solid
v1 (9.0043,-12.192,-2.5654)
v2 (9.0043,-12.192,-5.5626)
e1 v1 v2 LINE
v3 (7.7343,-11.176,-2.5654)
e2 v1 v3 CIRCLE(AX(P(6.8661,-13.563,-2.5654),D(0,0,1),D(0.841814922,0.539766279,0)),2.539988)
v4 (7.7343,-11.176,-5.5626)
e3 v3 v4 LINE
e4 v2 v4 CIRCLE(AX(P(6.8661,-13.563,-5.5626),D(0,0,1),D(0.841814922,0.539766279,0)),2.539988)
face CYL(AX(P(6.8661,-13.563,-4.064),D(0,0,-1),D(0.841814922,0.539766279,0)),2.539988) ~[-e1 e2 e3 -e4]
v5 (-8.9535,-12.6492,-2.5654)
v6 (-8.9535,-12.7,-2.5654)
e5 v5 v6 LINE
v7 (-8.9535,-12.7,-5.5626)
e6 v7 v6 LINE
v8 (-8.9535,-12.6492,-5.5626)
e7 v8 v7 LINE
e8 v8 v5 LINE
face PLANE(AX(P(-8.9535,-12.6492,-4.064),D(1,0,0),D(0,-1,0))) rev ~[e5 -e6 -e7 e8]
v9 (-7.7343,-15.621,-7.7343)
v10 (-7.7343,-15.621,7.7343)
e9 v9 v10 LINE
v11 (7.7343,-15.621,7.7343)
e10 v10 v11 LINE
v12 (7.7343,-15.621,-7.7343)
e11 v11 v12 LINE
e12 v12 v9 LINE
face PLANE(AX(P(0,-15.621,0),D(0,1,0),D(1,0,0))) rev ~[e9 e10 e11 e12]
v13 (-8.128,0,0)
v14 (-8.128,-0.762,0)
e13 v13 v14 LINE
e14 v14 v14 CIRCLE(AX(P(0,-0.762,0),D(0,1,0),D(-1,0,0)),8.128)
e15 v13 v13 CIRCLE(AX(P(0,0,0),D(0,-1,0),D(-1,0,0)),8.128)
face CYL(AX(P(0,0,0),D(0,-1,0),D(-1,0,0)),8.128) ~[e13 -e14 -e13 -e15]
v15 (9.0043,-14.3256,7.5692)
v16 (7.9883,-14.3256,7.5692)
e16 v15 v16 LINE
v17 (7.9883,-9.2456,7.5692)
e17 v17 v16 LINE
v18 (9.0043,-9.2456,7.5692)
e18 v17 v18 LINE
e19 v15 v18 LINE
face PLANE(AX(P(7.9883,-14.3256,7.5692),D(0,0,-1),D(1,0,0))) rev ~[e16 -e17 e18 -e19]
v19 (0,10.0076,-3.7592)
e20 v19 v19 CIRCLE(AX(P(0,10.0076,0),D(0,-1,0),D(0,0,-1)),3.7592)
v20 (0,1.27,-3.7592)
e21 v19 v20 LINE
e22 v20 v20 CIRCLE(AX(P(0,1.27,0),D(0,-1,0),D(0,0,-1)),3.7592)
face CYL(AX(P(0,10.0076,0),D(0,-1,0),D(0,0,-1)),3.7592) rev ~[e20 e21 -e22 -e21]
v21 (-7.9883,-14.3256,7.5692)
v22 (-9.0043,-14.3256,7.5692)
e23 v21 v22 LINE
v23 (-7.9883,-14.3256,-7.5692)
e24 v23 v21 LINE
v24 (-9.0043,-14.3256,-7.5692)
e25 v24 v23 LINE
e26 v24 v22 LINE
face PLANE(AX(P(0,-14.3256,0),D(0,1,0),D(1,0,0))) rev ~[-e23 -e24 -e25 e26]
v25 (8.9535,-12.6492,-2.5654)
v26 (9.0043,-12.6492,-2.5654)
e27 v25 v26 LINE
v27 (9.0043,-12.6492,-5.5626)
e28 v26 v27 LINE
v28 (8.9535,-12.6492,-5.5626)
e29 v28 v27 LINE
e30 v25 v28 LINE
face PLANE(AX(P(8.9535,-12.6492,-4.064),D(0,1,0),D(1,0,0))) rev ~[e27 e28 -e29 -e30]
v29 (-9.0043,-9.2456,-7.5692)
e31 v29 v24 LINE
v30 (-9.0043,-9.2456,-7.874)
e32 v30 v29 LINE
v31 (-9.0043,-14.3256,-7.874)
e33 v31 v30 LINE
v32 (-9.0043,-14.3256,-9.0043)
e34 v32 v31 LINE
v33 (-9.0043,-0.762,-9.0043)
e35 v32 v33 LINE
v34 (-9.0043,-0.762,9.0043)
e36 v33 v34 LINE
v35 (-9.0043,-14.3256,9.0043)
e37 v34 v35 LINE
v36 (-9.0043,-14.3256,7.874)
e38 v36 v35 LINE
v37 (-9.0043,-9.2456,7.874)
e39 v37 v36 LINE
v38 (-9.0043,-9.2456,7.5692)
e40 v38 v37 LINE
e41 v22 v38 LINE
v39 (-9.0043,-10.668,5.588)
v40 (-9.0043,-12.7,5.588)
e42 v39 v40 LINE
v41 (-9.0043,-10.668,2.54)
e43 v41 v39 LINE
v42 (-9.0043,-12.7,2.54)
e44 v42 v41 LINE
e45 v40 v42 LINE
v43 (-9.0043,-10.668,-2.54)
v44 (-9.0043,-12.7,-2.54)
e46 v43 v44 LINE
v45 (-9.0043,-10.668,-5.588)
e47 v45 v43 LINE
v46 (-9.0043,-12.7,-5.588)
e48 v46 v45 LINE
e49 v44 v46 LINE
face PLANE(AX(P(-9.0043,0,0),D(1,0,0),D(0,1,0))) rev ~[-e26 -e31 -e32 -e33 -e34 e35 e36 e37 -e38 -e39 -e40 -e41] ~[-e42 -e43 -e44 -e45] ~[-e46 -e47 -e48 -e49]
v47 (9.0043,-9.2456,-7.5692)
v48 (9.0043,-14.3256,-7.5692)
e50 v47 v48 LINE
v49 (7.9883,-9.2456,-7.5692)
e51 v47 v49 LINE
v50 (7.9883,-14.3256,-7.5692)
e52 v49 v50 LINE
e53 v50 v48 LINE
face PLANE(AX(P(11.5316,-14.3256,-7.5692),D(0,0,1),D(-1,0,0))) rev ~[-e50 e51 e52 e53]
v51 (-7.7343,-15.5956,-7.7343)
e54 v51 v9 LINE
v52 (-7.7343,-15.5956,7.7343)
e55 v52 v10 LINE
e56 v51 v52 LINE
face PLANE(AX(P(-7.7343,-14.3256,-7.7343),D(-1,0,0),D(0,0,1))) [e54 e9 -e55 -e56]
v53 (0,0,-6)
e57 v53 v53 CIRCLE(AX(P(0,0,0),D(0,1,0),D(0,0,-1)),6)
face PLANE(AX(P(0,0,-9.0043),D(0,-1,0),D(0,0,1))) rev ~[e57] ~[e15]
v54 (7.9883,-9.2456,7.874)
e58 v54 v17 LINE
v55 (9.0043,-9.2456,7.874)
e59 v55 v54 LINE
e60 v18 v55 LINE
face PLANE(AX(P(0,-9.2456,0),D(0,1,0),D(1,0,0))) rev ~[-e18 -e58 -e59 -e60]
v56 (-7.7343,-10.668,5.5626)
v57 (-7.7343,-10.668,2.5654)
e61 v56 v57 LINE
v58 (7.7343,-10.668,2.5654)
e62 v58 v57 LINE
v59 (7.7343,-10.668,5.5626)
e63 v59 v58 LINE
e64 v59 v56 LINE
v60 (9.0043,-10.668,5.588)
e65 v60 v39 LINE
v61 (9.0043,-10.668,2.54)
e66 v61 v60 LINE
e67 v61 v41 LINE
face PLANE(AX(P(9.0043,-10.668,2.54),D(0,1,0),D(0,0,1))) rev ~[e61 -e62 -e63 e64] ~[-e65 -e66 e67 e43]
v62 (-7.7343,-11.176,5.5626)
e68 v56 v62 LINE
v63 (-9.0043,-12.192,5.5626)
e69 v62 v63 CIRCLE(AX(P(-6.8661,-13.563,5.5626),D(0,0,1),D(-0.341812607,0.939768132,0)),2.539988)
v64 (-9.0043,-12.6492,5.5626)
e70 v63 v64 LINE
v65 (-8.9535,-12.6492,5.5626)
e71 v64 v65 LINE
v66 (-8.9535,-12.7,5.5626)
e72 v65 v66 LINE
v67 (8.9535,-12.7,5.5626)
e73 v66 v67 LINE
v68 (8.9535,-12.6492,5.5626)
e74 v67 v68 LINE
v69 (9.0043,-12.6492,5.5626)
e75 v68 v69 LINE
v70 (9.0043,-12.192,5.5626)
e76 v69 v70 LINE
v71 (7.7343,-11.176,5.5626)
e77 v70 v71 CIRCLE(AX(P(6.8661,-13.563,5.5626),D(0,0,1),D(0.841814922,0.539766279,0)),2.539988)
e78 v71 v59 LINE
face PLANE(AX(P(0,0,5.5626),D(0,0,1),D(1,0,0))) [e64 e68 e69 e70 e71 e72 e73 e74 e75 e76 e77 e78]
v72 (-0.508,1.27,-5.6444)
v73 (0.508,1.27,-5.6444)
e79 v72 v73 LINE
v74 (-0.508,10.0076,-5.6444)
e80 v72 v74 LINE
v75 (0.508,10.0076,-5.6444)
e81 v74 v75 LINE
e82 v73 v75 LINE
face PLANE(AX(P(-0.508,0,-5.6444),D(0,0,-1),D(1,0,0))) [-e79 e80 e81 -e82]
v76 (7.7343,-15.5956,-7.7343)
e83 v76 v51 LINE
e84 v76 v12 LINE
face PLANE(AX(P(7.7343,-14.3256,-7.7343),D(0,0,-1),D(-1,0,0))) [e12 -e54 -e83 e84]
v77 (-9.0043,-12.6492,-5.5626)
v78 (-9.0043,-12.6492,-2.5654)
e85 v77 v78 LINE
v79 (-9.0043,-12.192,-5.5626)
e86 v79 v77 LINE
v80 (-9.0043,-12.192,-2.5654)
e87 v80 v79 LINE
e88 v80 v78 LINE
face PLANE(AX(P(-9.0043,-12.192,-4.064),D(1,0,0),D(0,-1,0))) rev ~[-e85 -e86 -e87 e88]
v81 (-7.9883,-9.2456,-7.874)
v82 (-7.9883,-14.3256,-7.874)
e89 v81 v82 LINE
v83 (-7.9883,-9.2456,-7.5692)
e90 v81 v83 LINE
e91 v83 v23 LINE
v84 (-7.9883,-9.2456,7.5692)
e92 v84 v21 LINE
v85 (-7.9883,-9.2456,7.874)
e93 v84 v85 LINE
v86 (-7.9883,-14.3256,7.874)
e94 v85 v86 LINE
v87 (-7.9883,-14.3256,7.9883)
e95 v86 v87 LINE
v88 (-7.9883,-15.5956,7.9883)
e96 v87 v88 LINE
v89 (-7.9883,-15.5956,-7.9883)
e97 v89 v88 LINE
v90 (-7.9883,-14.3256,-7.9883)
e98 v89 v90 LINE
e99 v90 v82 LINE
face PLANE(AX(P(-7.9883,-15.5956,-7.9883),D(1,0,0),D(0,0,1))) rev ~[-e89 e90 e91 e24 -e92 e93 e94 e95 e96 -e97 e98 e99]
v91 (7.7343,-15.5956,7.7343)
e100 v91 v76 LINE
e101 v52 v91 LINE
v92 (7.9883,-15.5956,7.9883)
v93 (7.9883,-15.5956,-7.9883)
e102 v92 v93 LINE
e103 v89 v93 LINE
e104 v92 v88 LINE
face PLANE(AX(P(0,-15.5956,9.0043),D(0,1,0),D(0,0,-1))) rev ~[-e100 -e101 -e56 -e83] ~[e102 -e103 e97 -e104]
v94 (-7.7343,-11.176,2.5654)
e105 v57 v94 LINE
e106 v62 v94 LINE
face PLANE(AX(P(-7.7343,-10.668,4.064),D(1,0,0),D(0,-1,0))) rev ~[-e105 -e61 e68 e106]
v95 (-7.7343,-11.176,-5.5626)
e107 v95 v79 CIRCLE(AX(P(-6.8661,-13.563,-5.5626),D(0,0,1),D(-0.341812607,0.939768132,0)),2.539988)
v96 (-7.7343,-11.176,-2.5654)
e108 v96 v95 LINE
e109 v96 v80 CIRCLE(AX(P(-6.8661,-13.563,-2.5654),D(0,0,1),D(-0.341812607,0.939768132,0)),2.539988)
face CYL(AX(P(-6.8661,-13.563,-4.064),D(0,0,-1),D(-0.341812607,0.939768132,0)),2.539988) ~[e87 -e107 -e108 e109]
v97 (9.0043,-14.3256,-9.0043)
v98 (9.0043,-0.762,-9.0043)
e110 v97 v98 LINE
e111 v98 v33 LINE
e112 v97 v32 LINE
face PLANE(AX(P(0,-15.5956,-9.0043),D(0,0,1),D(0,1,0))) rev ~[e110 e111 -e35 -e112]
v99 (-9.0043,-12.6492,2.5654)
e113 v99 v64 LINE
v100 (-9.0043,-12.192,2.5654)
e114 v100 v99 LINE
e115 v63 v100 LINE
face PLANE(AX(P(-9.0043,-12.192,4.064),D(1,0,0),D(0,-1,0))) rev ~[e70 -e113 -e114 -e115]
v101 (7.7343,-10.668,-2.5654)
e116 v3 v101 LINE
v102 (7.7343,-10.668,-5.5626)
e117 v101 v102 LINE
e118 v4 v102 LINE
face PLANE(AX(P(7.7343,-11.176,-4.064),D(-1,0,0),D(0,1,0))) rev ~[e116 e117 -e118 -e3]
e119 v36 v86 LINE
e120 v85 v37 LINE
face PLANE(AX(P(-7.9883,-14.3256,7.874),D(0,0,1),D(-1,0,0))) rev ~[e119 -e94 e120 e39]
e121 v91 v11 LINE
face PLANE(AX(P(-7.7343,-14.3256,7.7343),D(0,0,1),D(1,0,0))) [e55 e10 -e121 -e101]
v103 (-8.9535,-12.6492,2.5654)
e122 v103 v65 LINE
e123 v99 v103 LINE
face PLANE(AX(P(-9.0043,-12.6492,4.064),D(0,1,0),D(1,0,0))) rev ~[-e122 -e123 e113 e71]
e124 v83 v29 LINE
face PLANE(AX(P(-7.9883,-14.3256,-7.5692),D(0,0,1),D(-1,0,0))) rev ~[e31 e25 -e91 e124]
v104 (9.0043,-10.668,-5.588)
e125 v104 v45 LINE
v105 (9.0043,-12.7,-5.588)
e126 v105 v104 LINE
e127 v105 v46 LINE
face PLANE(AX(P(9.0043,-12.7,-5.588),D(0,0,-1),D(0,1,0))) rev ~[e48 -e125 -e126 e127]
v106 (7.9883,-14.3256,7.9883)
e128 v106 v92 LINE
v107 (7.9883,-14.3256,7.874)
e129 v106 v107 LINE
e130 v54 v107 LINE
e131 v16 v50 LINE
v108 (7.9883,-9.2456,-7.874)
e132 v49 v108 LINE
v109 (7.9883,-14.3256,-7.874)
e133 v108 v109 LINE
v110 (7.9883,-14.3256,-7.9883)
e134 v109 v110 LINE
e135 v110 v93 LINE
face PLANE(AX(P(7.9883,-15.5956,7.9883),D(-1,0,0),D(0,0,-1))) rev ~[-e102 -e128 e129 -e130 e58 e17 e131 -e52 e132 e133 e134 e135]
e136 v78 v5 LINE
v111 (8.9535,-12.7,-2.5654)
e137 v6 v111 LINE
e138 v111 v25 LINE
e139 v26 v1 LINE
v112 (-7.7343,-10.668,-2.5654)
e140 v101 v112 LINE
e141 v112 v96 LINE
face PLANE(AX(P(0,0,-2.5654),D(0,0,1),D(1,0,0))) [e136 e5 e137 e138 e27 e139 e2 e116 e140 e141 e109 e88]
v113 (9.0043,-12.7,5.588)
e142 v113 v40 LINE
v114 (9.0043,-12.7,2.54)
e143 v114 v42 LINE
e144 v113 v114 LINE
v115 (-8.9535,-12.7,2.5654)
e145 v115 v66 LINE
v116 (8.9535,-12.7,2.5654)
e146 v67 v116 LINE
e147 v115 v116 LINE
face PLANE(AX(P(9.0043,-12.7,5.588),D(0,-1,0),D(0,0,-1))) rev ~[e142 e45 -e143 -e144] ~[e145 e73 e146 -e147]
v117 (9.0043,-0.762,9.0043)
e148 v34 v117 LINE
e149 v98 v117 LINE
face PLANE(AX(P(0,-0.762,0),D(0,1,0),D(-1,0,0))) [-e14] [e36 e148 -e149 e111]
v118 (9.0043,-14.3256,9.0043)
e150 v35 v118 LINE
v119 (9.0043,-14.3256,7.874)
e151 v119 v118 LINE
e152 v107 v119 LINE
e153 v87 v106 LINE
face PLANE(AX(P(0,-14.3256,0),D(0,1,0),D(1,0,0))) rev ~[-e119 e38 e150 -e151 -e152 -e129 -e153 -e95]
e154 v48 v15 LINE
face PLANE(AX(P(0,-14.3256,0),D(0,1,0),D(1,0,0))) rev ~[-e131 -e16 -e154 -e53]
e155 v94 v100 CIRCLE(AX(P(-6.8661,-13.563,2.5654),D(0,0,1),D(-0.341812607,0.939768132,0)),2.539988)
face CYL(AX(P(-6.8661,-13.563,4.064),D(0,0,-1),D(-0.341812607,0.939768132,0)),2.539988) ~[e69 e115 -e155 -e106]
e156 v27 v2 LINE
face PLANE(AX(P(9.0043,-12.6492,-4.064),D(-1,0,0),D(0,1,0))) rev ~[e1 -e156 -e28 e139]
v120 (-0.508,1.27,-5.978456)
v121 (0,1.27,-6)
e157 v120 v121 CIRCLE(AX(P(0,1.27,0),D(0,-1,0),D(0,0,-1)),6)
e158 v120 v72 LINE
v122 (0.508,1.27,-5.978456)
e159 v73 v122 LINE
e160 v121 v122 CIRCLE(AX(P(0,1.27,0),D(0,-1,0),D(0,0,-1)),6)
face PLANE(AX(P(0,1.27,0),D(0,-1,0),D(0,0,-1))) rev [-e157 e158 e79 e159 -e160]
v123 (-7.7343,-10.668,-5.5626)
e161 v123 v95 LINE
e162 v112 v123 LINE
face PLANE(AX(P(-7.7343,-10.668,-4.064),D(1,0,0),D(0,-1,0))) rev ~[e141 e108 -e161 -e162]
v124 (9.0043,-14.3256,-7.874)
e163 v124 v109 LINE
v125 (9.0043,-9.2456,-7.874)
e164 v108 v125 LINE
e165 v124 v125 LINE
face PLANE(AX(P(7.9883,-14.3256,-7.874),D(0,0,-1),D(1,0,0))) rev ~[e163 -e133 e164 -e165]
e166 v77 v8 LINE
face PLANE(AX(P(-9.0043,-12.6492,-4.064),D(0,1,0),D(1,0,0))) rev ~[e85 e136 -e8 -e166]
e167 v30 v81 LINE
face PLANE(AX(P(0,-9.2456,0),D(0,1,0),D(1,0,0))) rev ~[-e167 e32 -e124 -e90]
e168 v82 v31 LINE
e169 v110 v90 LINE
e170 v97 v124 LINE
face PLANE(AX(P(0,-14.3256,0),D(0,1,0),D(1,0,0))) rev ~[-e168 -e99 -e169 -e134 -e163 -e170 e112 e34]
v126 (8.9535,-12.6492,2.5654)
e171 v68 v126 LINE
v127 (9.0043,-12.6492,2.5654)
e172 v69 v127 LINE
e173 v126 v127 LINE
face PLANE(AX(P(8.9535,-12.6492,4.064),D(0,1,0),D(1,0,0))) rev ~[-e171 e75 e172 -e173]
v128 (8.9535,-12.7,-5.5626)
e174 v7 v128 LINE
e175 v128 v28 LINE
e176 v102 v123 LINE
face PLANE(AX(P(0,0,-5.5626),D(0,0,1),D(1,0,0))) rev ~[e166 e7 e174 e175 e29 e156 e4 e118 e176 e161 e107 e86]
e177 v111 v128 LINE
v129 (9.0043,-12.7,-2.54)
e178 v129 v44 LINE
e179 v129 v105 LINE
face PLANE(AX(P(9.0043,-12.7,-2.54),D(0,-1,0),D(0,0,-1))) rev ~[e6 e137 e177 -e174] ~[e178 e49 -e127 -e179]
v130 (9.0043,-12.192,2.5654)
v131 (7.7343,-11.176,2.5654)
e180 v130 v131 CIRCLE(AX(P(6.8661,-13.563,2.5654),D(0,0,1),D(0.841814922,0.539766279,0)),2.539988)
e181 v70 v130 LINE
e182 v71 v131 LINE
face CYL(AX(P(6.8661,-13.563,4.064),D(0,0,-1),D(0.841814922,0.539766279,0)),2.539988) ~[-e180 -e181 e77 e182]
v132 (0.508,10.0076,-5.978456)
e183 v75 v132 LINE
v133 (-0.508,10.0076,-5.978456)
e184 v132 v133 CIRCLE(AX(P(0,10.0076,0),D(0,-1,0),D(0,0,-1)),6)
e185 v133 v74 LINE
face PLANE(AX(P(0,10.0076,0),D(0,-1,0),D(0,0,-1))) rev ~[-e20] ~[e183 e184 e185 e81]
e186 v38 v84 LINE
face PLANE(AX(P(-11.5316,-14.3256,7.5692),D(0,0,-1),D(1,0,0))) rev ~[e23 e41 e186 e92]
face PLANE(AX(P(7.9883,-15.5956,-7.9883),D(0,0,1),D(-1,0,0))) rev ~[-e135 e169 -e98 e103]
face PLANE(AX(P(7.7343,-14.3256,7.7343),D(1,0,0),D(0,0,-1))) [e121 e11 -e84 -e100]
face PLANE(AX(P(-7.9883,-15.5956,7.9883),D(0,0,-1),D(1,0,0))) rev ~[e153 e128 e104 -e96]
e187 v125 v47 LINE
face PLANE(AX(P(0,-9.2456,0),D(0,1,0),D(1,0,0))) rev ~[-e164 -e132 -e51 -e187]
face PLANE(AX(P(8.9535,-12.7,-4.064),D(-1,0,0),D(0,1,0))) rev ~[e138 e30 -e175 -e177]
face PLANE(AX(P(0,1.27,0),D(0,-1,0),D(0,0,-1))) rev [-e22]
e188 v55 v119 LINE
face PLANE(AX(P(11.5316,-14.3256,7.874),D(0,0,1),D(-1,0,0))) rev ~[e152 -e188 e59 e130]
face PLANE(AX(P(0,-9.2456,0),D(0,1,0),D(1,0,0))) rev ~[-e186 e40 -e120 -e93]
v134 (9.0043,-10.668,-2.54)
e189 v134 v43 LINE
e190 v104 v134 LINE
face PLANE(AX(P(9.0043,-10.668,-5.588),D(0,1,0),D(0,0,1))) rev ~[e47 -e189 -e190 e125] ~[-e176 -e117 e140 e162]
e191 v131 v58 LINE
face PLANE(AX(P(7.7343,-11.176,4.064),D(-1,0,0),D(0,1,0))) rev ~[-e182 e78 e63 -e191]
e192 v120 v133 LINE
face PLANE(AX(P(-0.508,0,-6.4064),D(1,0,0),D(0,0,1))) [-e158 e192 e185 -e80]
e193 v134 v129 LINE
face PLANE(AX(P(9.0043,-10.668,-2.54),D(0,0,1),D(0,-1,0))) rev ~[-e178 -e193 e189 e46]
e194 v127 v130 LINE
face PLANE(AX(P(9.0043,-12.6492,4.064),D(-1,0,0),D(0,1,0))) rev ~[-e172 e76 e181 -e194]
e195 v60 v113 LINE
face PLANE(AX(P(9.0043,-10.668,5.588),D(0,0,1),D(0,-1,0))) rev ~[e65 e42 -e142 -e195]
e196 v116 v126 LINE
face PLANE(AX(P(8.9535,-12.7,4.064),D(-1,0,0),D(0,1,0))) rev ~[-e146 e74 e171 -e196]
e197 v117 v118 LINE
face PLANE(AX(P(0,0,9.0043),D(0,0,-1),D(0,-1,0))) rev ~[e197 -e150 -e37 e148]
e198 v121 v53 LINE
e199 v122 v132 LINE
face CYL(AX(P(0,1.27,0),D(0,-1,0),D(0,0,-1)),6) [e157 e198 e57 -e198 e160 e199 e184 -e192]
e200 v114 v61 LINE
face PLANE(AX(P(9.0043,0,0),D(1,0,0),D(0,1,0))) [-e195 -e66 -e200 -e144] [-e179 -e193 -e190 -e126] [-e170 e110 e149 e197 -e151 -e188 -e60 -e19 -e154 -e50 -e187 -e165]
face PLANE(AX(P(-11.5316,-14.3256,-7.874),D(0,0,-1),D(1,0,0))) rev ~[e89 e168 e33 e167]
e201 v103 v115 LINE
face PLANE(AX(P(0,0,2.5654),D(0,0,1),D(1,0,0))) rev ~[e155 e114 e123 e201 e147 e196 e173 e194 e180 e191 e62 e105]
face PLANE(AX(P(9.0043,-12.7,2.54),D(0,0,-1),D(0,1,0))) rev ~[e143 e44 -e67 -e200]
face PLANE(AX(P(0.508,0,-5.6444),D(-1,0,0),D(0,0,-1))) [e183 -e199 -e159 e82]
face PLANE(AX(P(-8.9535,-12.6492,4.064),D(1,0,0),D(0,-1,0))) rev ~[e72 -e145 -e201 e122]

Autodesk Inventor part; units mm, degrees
sketch "Sketch_1" plane through (0, 0, 0) normal (1, 0, 0) x (0, 1, 0)
  line L0 (0, 9.0043) -> (-15.5956, 9.0043)
  line L1 (-15.5956, 9.0043) -> (-15.5956, -9.0043)
  line L2 (-15.5956, -9.0043) -> (0, -9.0043)
  line L3 (0, -9.0043) -> (0, 9.0043)
extrude "Extrusion1" add sketch "Sketch_1" along normal mid plane 18.0086
sketch "Sketch_2" plane through (0, 0, 0) normal (0, 1, 0) x (-1, 0, 0)
  line L0 (12.2936, -12.2936) -> (12.2936, 12.2936)
  line L1 (12.2936, 12.2936) -> (-12.2936, 12.2936)
  line L2 (-12.2936, 12.2936) -> (-12.2936, -12.2936)
  line L3 (-12.2936, -12.2936) -> (12.2936, -12.2936)
  circle A0 centre (0, 0) radius 8.128
extrude "Extrusion2" cut sketch "Sketch_2" along normal mid plane 1.524
sketch "Sketch_3" plane through (0, -15.5956, 0) normal (0, 1, 0) x (1, 0, 0)
  line L0 (-11.5316, 11.5316) -> (-11.5316, -11.5316)
  line L1 (-11.5316, -11.5316) -> (11.5316, -11.5316)
  line L2 (11.5316, -11.5316) -> (11.5316, 11.5316)
  line L3 (11.5316, 11.5316) -> (-11.5316, 11.5316)
  line L4 (-7.9883, 7.9883) -> (-7.9883, -7.9883)
  line L5 (-7.9883, -7.9883) -> (7.9883, -7.9883)
  line L6 (7.9883, -7.9883) -> (7.9883, 7.9883)
  line L7 (7.9883, 7.9883) -> (-7.9883, 7.9883)
extrude "Extrusion3" cut sketch "Sketch_3" along normal mid plane 2.54
sketch "Sketch_4" plane through (0, -14.3256, 0) normal (0, 1, 0) x (1, 0, 0)
  line L0 (-12.446, 12.446) -> (-12.446, -12.446)
  line L1 (-12.446, -12.446) -> (12.446, -12.446)
  line L2 (12.446, -12.446) -> (12.446, 12.446)
  line L3 (12.446, 12.446) -> (-12.446, 12.446)
  line L4 (-11.5316, -7.5692) -> (-7.9883, -7.5692)
  line L5 (-7.9883, -7.5692) -> (-7.9883, -7.874)
  line L6 (-7.9883, -7.874) -> (-11.5316, -7.874)
  line L7 (-11.5316, -7.874) -> (-11.5316, -11.5316)
  line L8 (-11.5316, -11.5316) -> (11.5316, -11.5316)
  line L9 (11.5316, -11.5316) -> (11.5316, -7.874)
  line L10 (11.5316, -7.874) -> (7.9883, -7.874)
  line L11 (7.9883, -7.874) -> (7.9883, -7.5692)
  line L12 (7.9883, -7.5692) -> (11.5316, -7.5692)
  line L13 (11.5316, -7.5692) -> (11.5316, 7.5692)
  line L14 (11.5316, 7.5692) -> (7.9883, 7.5692)
  line L15 (7.9883, 7.5692) -> (7.9883, 7.874)
  line L16 (7.9883, 7.874) -> (11.5316, 7.874)
  line L17 (11.5316, 7.874) -> (11.5316, 11.5316)
  line L18 (11.5316, 11.5316) -> (-11.5316, 11.5316)
  line L19 (-11.5316, 11.5316) -> (-11.5316, 7.874)
  line L20 (-11.5316, 7.874) -> (-7.9883, 7.874)
  line L21 (-7.9883, 7.874) -> (-7.9883, 7.5692)
  line L22 (-7.9883, 7.5692) -> (-11.5316, 7.5692)
  line L23 (-11.5316, 7.5692) -> (-11.5316, -7.5692)
extrude "Extrusion4" cut sketch "Sketch_4" along normal mid plane 10.16
sketch "Sketch_5" plane through (0, -14.3256, 0) normal (0, 1, 0) x (1, 0, 0)
  line L0 (-7.7343, 7.7343) -> (-7.7343, -7.7343)
  line L1 (-7.7343, -7.7343) -> (7.7343, -7.7343)
  line L2 (7.7343, -7.7343) -> (7.7343, 7.7343)
  line L3 (7.7343, 7.7343) -> (-7.7343, 7.7343)
extrude "Extrusion5" add sketch "Sketch_5" against normal blind 1.2954
sketch "Sketch_6" plane through (9.0043, 0, 0) normal (1, 0, 0) x (0, 0, -1)
  line L0 (2.54, -10.668) -> (2.54, -12.7)
  line L1 (2.54, -12.7) -> (5.588, -12.7)
  line L2 (5.588, -12.7) -> (5.588, -10.668)
  line L3 (5.588, -10.668) -> (2.54, -10.668)
extrude "Extrusion6" cut sketch "Sketch_6" against normal blind 18.0086
sketch "Sketch_7" plane through (9.0043, 0, 0) normal (1, 0, 0) x (0, 0, -1)
  line L0 (-5.588, -10.668) -> (-5.588, -12.7)
  line L1 (-5.588, -12.7) -> (-2.54, -12.7)
  line L2 (-2.54, -12.7) -> (-2.54, -10.668)
  line L3 (-2.54, -10.668) -> (-5.588, -10.668)
extrude "Extrusion7" cut sketch "Sketch_7" against normal blind 18.0086
sketch "Sketch_8" plane through (0, 0, 4.064) normal (0, 0, 1) x (1, 0, 0)
  line L0 (-9.0043, -12.6492) -> (-8.9535, -12.6492)
  line L1 (-8.9535, -12.6492) -> (-8.9535, -12.7)
  line L2 (-8.9535, -12.7) -> (8.9535, -12.7)
  line L3 (8.9535, -12.7) -> (8.9535, -12.6492)
  line L4 (8.9535, -12.6492) -> (9.0043, -12.6492)
  line L5 (9.0043, -12.6492) -> (9.0043, -12.192)
  arc A0 (9.0043, -12.192) -> (7.7343, -11.176) centre (6.8661, -13.563) ccw
  line L6 (7.7343, -11.176) -> (7.7343, -10.668)
  line L7 (7.7343, -10.668) -> (-7.7343, -10.668)
  line L8 (-7.7343, -10.668) -> (-7.7343, -11.176)
  arc A1 (-7.7343, -11.176) -> (-9.0043, -12.192) centre (-6.8661, -13.563) ccw
  line L9 (-9.0043, -12.192) -> (-9.0043, -12.6492)
extrude "Extrusion8" add sketch "Sketch_8" along normal mid plane 2.9972
sketch "Sketch_9" plane through (0, 0, -4.064) normal (0, 0, 1) x (1, 0, 0)
  line L0 (-9.0043, -12.6492) -> (-8.9535, -12.6492)
  line L1 (-8.9535, -12.6492) -> (-8.9535, -12.7)
  line L2 (-8.9535, -12.7) -> (8.9535, -12.7)
  line L3 (8.9535, -12.7) -> (8.9535, -12.6492)
  line L4 (8.9535, -12.6492) -> (9.0043, -12.6492)
  line L5 (9.0043, -12.6492) -> (9.0043, -12.192)
  arc A0 (9.0043, -12.192) -> (7.7343, -11.176) centre (6.8661, -13.563) ccw
  line L6 (7.7343, -11.176) -> (7.7343, -10.668)
  line L7 (7.7343, -10.668) -> (-7.7343, -10.668)
  line L8 (-7.7343, -10.668) -> (-7.7343, -11.176)
  arc A1 (-7.7343, -11.176) -> (-9.0043, -12.192) centre (-6.8661, -13.563) ccw
  line L9 (-9.0043, -12.192) -> (-9.0043, -12.6492)
extrude "Extrusion9" add sketch "Sketch_9" along normal mid plane 2.9972
sketch "Sketch_11" plane through (0, 0, 0) normal (1, 0, 0) x (0, 1, 0)
  line L0 (0, 0) -> (10.0076, 0)
  line L1 (0, -3.7592) -> (0, -6)
  line L2 (0, -6) -> (10.0076, -6)
  line L3 (10.0076, -6) -> (10.0076, -3.7592)
  line L4 (10.0076, -3.7592) -> (0, -3.7592)
revolve "Revolution1" add sketch "Sketch_11" angle 360 about axis through (0, 0, 0) along (0, -1, 0)
thread "Thread1" size "M12x1" class "6g" standard "ISO Metric profile" full length
sketch "Sketch_15" plane through (0, 0, 0) normal (0, 1, 0) x (-1, 0, 0)
  line L0 (0.508, -5.6444) -> (-0.508, -5.6444)
  line L1 (-0.508, -5.6444) -> (-0.508, -6.4064)
  line L2 (-0.508, -6.4064) -> (0.508, -6.4064)
  line L3 (0.508, -6.4064) -> (0.508, -5.6444)
extrude "Extrusion10" cut sketch "Sketch_15" along normal blind 50.8
sketch "Sketch_18" plane through (0, 0, 0) normal (1, 0, 0) x (0, 1, 0)
  line L0 (0, 0) -> (1.27, 0)
  line L1 (1.27, 0) -> (1.27, -6)
  line L2 (1.27, -6) -> (0, -6)
  line L3 (0, -6) -> (0, 0)
  line L4 (0, 0) -> (1.27, 0)
revolve "Revolution2" add sketch "Sketch_18" angle 360 about axis through (0, 0, 0) along (0, -1, 0)
ref_plane "body_to_dummy_XY" through (0, 0, 0) normal (0, 1, 0) x (1, 0, 0)
ref_plane "body_to_dummy_YZ" through (0, 0, 0) normal (1, 0, 0) x (0, 0, -1)
ref_plane "body_to_dummy_ZX" through (0, 0, 0) normal (0, 0, -1) x (0, 1, 0)
ref_plane "body_to_hex_nut_XY" through (0, 0, 0) normal (0, 1, 0) x (1, 0, 0)
ref_plane "body_to_hex_nut_YZ" through (0, 0, 0) normal (1, 0, 0) x (0, 0, -1)
ref_plane "body_to_hex_nut_ZX" through (0, 0, 0) normal (0, 0, -1) x (0, 1, 0)
ref_plane "body_to_hex_nut_black_XY" through (0, 2.5146, 0) normal (0, 1, 0) x (1, 0, 0)
ref_plane "body_to_hex_nut_black_YZ" through (0, 2.5146, 0) normal (1, 0, 0) x (0, 0, -1)
ref_plane "body_to_hex_nut_black_ZX" through (0, 2.5146, 0) normal (0, 0, -1) x (0, 1, 0)
ref_plane "body_to_lockwasher_XY" through (0, 2.0066, 0) normal (0, 1, 0) x (1, 0, 0)
ref_plane "body_to_lockwasher_YZ" through (0, 2.0066, 0) normal (1, 0, 0) x (0, 0, -1)
ref_plane "body_to_lockwasher_ZX" through (0, 2.0066, 0) normal (0, 0, -1) x (0, 1, 0)
ref_plane "body_to_pins_XY" through (0, -15.5956, 0) normal (0, 1, 0) x (1, 0, 0)
ref_plane "body_to_pins_YZ" through (0, -15.5956, 0) normal (1, 0, 0) x (0, 0, -1)
ref_plane "body_to_pins_ZX" through (0, -15.5956, 0) normal (0, 0, -1) x (0, 1, 0)
ref_plane "body_to_toggles_XY" through (0, 10.0076, 0) normal (0, -1, 0) x (1, 0, 0)
ref_plane "body_to_toggles_YZ" through (0, 10.0076, 0) normal (1, 0, 0) x (0, 0, 1)
ref_plane "body_to_toggles_ZX" through (0, 10.0076, 0) normal (0, 0, 1) x (0, -1, 0)
properties part number "tl-cap"
